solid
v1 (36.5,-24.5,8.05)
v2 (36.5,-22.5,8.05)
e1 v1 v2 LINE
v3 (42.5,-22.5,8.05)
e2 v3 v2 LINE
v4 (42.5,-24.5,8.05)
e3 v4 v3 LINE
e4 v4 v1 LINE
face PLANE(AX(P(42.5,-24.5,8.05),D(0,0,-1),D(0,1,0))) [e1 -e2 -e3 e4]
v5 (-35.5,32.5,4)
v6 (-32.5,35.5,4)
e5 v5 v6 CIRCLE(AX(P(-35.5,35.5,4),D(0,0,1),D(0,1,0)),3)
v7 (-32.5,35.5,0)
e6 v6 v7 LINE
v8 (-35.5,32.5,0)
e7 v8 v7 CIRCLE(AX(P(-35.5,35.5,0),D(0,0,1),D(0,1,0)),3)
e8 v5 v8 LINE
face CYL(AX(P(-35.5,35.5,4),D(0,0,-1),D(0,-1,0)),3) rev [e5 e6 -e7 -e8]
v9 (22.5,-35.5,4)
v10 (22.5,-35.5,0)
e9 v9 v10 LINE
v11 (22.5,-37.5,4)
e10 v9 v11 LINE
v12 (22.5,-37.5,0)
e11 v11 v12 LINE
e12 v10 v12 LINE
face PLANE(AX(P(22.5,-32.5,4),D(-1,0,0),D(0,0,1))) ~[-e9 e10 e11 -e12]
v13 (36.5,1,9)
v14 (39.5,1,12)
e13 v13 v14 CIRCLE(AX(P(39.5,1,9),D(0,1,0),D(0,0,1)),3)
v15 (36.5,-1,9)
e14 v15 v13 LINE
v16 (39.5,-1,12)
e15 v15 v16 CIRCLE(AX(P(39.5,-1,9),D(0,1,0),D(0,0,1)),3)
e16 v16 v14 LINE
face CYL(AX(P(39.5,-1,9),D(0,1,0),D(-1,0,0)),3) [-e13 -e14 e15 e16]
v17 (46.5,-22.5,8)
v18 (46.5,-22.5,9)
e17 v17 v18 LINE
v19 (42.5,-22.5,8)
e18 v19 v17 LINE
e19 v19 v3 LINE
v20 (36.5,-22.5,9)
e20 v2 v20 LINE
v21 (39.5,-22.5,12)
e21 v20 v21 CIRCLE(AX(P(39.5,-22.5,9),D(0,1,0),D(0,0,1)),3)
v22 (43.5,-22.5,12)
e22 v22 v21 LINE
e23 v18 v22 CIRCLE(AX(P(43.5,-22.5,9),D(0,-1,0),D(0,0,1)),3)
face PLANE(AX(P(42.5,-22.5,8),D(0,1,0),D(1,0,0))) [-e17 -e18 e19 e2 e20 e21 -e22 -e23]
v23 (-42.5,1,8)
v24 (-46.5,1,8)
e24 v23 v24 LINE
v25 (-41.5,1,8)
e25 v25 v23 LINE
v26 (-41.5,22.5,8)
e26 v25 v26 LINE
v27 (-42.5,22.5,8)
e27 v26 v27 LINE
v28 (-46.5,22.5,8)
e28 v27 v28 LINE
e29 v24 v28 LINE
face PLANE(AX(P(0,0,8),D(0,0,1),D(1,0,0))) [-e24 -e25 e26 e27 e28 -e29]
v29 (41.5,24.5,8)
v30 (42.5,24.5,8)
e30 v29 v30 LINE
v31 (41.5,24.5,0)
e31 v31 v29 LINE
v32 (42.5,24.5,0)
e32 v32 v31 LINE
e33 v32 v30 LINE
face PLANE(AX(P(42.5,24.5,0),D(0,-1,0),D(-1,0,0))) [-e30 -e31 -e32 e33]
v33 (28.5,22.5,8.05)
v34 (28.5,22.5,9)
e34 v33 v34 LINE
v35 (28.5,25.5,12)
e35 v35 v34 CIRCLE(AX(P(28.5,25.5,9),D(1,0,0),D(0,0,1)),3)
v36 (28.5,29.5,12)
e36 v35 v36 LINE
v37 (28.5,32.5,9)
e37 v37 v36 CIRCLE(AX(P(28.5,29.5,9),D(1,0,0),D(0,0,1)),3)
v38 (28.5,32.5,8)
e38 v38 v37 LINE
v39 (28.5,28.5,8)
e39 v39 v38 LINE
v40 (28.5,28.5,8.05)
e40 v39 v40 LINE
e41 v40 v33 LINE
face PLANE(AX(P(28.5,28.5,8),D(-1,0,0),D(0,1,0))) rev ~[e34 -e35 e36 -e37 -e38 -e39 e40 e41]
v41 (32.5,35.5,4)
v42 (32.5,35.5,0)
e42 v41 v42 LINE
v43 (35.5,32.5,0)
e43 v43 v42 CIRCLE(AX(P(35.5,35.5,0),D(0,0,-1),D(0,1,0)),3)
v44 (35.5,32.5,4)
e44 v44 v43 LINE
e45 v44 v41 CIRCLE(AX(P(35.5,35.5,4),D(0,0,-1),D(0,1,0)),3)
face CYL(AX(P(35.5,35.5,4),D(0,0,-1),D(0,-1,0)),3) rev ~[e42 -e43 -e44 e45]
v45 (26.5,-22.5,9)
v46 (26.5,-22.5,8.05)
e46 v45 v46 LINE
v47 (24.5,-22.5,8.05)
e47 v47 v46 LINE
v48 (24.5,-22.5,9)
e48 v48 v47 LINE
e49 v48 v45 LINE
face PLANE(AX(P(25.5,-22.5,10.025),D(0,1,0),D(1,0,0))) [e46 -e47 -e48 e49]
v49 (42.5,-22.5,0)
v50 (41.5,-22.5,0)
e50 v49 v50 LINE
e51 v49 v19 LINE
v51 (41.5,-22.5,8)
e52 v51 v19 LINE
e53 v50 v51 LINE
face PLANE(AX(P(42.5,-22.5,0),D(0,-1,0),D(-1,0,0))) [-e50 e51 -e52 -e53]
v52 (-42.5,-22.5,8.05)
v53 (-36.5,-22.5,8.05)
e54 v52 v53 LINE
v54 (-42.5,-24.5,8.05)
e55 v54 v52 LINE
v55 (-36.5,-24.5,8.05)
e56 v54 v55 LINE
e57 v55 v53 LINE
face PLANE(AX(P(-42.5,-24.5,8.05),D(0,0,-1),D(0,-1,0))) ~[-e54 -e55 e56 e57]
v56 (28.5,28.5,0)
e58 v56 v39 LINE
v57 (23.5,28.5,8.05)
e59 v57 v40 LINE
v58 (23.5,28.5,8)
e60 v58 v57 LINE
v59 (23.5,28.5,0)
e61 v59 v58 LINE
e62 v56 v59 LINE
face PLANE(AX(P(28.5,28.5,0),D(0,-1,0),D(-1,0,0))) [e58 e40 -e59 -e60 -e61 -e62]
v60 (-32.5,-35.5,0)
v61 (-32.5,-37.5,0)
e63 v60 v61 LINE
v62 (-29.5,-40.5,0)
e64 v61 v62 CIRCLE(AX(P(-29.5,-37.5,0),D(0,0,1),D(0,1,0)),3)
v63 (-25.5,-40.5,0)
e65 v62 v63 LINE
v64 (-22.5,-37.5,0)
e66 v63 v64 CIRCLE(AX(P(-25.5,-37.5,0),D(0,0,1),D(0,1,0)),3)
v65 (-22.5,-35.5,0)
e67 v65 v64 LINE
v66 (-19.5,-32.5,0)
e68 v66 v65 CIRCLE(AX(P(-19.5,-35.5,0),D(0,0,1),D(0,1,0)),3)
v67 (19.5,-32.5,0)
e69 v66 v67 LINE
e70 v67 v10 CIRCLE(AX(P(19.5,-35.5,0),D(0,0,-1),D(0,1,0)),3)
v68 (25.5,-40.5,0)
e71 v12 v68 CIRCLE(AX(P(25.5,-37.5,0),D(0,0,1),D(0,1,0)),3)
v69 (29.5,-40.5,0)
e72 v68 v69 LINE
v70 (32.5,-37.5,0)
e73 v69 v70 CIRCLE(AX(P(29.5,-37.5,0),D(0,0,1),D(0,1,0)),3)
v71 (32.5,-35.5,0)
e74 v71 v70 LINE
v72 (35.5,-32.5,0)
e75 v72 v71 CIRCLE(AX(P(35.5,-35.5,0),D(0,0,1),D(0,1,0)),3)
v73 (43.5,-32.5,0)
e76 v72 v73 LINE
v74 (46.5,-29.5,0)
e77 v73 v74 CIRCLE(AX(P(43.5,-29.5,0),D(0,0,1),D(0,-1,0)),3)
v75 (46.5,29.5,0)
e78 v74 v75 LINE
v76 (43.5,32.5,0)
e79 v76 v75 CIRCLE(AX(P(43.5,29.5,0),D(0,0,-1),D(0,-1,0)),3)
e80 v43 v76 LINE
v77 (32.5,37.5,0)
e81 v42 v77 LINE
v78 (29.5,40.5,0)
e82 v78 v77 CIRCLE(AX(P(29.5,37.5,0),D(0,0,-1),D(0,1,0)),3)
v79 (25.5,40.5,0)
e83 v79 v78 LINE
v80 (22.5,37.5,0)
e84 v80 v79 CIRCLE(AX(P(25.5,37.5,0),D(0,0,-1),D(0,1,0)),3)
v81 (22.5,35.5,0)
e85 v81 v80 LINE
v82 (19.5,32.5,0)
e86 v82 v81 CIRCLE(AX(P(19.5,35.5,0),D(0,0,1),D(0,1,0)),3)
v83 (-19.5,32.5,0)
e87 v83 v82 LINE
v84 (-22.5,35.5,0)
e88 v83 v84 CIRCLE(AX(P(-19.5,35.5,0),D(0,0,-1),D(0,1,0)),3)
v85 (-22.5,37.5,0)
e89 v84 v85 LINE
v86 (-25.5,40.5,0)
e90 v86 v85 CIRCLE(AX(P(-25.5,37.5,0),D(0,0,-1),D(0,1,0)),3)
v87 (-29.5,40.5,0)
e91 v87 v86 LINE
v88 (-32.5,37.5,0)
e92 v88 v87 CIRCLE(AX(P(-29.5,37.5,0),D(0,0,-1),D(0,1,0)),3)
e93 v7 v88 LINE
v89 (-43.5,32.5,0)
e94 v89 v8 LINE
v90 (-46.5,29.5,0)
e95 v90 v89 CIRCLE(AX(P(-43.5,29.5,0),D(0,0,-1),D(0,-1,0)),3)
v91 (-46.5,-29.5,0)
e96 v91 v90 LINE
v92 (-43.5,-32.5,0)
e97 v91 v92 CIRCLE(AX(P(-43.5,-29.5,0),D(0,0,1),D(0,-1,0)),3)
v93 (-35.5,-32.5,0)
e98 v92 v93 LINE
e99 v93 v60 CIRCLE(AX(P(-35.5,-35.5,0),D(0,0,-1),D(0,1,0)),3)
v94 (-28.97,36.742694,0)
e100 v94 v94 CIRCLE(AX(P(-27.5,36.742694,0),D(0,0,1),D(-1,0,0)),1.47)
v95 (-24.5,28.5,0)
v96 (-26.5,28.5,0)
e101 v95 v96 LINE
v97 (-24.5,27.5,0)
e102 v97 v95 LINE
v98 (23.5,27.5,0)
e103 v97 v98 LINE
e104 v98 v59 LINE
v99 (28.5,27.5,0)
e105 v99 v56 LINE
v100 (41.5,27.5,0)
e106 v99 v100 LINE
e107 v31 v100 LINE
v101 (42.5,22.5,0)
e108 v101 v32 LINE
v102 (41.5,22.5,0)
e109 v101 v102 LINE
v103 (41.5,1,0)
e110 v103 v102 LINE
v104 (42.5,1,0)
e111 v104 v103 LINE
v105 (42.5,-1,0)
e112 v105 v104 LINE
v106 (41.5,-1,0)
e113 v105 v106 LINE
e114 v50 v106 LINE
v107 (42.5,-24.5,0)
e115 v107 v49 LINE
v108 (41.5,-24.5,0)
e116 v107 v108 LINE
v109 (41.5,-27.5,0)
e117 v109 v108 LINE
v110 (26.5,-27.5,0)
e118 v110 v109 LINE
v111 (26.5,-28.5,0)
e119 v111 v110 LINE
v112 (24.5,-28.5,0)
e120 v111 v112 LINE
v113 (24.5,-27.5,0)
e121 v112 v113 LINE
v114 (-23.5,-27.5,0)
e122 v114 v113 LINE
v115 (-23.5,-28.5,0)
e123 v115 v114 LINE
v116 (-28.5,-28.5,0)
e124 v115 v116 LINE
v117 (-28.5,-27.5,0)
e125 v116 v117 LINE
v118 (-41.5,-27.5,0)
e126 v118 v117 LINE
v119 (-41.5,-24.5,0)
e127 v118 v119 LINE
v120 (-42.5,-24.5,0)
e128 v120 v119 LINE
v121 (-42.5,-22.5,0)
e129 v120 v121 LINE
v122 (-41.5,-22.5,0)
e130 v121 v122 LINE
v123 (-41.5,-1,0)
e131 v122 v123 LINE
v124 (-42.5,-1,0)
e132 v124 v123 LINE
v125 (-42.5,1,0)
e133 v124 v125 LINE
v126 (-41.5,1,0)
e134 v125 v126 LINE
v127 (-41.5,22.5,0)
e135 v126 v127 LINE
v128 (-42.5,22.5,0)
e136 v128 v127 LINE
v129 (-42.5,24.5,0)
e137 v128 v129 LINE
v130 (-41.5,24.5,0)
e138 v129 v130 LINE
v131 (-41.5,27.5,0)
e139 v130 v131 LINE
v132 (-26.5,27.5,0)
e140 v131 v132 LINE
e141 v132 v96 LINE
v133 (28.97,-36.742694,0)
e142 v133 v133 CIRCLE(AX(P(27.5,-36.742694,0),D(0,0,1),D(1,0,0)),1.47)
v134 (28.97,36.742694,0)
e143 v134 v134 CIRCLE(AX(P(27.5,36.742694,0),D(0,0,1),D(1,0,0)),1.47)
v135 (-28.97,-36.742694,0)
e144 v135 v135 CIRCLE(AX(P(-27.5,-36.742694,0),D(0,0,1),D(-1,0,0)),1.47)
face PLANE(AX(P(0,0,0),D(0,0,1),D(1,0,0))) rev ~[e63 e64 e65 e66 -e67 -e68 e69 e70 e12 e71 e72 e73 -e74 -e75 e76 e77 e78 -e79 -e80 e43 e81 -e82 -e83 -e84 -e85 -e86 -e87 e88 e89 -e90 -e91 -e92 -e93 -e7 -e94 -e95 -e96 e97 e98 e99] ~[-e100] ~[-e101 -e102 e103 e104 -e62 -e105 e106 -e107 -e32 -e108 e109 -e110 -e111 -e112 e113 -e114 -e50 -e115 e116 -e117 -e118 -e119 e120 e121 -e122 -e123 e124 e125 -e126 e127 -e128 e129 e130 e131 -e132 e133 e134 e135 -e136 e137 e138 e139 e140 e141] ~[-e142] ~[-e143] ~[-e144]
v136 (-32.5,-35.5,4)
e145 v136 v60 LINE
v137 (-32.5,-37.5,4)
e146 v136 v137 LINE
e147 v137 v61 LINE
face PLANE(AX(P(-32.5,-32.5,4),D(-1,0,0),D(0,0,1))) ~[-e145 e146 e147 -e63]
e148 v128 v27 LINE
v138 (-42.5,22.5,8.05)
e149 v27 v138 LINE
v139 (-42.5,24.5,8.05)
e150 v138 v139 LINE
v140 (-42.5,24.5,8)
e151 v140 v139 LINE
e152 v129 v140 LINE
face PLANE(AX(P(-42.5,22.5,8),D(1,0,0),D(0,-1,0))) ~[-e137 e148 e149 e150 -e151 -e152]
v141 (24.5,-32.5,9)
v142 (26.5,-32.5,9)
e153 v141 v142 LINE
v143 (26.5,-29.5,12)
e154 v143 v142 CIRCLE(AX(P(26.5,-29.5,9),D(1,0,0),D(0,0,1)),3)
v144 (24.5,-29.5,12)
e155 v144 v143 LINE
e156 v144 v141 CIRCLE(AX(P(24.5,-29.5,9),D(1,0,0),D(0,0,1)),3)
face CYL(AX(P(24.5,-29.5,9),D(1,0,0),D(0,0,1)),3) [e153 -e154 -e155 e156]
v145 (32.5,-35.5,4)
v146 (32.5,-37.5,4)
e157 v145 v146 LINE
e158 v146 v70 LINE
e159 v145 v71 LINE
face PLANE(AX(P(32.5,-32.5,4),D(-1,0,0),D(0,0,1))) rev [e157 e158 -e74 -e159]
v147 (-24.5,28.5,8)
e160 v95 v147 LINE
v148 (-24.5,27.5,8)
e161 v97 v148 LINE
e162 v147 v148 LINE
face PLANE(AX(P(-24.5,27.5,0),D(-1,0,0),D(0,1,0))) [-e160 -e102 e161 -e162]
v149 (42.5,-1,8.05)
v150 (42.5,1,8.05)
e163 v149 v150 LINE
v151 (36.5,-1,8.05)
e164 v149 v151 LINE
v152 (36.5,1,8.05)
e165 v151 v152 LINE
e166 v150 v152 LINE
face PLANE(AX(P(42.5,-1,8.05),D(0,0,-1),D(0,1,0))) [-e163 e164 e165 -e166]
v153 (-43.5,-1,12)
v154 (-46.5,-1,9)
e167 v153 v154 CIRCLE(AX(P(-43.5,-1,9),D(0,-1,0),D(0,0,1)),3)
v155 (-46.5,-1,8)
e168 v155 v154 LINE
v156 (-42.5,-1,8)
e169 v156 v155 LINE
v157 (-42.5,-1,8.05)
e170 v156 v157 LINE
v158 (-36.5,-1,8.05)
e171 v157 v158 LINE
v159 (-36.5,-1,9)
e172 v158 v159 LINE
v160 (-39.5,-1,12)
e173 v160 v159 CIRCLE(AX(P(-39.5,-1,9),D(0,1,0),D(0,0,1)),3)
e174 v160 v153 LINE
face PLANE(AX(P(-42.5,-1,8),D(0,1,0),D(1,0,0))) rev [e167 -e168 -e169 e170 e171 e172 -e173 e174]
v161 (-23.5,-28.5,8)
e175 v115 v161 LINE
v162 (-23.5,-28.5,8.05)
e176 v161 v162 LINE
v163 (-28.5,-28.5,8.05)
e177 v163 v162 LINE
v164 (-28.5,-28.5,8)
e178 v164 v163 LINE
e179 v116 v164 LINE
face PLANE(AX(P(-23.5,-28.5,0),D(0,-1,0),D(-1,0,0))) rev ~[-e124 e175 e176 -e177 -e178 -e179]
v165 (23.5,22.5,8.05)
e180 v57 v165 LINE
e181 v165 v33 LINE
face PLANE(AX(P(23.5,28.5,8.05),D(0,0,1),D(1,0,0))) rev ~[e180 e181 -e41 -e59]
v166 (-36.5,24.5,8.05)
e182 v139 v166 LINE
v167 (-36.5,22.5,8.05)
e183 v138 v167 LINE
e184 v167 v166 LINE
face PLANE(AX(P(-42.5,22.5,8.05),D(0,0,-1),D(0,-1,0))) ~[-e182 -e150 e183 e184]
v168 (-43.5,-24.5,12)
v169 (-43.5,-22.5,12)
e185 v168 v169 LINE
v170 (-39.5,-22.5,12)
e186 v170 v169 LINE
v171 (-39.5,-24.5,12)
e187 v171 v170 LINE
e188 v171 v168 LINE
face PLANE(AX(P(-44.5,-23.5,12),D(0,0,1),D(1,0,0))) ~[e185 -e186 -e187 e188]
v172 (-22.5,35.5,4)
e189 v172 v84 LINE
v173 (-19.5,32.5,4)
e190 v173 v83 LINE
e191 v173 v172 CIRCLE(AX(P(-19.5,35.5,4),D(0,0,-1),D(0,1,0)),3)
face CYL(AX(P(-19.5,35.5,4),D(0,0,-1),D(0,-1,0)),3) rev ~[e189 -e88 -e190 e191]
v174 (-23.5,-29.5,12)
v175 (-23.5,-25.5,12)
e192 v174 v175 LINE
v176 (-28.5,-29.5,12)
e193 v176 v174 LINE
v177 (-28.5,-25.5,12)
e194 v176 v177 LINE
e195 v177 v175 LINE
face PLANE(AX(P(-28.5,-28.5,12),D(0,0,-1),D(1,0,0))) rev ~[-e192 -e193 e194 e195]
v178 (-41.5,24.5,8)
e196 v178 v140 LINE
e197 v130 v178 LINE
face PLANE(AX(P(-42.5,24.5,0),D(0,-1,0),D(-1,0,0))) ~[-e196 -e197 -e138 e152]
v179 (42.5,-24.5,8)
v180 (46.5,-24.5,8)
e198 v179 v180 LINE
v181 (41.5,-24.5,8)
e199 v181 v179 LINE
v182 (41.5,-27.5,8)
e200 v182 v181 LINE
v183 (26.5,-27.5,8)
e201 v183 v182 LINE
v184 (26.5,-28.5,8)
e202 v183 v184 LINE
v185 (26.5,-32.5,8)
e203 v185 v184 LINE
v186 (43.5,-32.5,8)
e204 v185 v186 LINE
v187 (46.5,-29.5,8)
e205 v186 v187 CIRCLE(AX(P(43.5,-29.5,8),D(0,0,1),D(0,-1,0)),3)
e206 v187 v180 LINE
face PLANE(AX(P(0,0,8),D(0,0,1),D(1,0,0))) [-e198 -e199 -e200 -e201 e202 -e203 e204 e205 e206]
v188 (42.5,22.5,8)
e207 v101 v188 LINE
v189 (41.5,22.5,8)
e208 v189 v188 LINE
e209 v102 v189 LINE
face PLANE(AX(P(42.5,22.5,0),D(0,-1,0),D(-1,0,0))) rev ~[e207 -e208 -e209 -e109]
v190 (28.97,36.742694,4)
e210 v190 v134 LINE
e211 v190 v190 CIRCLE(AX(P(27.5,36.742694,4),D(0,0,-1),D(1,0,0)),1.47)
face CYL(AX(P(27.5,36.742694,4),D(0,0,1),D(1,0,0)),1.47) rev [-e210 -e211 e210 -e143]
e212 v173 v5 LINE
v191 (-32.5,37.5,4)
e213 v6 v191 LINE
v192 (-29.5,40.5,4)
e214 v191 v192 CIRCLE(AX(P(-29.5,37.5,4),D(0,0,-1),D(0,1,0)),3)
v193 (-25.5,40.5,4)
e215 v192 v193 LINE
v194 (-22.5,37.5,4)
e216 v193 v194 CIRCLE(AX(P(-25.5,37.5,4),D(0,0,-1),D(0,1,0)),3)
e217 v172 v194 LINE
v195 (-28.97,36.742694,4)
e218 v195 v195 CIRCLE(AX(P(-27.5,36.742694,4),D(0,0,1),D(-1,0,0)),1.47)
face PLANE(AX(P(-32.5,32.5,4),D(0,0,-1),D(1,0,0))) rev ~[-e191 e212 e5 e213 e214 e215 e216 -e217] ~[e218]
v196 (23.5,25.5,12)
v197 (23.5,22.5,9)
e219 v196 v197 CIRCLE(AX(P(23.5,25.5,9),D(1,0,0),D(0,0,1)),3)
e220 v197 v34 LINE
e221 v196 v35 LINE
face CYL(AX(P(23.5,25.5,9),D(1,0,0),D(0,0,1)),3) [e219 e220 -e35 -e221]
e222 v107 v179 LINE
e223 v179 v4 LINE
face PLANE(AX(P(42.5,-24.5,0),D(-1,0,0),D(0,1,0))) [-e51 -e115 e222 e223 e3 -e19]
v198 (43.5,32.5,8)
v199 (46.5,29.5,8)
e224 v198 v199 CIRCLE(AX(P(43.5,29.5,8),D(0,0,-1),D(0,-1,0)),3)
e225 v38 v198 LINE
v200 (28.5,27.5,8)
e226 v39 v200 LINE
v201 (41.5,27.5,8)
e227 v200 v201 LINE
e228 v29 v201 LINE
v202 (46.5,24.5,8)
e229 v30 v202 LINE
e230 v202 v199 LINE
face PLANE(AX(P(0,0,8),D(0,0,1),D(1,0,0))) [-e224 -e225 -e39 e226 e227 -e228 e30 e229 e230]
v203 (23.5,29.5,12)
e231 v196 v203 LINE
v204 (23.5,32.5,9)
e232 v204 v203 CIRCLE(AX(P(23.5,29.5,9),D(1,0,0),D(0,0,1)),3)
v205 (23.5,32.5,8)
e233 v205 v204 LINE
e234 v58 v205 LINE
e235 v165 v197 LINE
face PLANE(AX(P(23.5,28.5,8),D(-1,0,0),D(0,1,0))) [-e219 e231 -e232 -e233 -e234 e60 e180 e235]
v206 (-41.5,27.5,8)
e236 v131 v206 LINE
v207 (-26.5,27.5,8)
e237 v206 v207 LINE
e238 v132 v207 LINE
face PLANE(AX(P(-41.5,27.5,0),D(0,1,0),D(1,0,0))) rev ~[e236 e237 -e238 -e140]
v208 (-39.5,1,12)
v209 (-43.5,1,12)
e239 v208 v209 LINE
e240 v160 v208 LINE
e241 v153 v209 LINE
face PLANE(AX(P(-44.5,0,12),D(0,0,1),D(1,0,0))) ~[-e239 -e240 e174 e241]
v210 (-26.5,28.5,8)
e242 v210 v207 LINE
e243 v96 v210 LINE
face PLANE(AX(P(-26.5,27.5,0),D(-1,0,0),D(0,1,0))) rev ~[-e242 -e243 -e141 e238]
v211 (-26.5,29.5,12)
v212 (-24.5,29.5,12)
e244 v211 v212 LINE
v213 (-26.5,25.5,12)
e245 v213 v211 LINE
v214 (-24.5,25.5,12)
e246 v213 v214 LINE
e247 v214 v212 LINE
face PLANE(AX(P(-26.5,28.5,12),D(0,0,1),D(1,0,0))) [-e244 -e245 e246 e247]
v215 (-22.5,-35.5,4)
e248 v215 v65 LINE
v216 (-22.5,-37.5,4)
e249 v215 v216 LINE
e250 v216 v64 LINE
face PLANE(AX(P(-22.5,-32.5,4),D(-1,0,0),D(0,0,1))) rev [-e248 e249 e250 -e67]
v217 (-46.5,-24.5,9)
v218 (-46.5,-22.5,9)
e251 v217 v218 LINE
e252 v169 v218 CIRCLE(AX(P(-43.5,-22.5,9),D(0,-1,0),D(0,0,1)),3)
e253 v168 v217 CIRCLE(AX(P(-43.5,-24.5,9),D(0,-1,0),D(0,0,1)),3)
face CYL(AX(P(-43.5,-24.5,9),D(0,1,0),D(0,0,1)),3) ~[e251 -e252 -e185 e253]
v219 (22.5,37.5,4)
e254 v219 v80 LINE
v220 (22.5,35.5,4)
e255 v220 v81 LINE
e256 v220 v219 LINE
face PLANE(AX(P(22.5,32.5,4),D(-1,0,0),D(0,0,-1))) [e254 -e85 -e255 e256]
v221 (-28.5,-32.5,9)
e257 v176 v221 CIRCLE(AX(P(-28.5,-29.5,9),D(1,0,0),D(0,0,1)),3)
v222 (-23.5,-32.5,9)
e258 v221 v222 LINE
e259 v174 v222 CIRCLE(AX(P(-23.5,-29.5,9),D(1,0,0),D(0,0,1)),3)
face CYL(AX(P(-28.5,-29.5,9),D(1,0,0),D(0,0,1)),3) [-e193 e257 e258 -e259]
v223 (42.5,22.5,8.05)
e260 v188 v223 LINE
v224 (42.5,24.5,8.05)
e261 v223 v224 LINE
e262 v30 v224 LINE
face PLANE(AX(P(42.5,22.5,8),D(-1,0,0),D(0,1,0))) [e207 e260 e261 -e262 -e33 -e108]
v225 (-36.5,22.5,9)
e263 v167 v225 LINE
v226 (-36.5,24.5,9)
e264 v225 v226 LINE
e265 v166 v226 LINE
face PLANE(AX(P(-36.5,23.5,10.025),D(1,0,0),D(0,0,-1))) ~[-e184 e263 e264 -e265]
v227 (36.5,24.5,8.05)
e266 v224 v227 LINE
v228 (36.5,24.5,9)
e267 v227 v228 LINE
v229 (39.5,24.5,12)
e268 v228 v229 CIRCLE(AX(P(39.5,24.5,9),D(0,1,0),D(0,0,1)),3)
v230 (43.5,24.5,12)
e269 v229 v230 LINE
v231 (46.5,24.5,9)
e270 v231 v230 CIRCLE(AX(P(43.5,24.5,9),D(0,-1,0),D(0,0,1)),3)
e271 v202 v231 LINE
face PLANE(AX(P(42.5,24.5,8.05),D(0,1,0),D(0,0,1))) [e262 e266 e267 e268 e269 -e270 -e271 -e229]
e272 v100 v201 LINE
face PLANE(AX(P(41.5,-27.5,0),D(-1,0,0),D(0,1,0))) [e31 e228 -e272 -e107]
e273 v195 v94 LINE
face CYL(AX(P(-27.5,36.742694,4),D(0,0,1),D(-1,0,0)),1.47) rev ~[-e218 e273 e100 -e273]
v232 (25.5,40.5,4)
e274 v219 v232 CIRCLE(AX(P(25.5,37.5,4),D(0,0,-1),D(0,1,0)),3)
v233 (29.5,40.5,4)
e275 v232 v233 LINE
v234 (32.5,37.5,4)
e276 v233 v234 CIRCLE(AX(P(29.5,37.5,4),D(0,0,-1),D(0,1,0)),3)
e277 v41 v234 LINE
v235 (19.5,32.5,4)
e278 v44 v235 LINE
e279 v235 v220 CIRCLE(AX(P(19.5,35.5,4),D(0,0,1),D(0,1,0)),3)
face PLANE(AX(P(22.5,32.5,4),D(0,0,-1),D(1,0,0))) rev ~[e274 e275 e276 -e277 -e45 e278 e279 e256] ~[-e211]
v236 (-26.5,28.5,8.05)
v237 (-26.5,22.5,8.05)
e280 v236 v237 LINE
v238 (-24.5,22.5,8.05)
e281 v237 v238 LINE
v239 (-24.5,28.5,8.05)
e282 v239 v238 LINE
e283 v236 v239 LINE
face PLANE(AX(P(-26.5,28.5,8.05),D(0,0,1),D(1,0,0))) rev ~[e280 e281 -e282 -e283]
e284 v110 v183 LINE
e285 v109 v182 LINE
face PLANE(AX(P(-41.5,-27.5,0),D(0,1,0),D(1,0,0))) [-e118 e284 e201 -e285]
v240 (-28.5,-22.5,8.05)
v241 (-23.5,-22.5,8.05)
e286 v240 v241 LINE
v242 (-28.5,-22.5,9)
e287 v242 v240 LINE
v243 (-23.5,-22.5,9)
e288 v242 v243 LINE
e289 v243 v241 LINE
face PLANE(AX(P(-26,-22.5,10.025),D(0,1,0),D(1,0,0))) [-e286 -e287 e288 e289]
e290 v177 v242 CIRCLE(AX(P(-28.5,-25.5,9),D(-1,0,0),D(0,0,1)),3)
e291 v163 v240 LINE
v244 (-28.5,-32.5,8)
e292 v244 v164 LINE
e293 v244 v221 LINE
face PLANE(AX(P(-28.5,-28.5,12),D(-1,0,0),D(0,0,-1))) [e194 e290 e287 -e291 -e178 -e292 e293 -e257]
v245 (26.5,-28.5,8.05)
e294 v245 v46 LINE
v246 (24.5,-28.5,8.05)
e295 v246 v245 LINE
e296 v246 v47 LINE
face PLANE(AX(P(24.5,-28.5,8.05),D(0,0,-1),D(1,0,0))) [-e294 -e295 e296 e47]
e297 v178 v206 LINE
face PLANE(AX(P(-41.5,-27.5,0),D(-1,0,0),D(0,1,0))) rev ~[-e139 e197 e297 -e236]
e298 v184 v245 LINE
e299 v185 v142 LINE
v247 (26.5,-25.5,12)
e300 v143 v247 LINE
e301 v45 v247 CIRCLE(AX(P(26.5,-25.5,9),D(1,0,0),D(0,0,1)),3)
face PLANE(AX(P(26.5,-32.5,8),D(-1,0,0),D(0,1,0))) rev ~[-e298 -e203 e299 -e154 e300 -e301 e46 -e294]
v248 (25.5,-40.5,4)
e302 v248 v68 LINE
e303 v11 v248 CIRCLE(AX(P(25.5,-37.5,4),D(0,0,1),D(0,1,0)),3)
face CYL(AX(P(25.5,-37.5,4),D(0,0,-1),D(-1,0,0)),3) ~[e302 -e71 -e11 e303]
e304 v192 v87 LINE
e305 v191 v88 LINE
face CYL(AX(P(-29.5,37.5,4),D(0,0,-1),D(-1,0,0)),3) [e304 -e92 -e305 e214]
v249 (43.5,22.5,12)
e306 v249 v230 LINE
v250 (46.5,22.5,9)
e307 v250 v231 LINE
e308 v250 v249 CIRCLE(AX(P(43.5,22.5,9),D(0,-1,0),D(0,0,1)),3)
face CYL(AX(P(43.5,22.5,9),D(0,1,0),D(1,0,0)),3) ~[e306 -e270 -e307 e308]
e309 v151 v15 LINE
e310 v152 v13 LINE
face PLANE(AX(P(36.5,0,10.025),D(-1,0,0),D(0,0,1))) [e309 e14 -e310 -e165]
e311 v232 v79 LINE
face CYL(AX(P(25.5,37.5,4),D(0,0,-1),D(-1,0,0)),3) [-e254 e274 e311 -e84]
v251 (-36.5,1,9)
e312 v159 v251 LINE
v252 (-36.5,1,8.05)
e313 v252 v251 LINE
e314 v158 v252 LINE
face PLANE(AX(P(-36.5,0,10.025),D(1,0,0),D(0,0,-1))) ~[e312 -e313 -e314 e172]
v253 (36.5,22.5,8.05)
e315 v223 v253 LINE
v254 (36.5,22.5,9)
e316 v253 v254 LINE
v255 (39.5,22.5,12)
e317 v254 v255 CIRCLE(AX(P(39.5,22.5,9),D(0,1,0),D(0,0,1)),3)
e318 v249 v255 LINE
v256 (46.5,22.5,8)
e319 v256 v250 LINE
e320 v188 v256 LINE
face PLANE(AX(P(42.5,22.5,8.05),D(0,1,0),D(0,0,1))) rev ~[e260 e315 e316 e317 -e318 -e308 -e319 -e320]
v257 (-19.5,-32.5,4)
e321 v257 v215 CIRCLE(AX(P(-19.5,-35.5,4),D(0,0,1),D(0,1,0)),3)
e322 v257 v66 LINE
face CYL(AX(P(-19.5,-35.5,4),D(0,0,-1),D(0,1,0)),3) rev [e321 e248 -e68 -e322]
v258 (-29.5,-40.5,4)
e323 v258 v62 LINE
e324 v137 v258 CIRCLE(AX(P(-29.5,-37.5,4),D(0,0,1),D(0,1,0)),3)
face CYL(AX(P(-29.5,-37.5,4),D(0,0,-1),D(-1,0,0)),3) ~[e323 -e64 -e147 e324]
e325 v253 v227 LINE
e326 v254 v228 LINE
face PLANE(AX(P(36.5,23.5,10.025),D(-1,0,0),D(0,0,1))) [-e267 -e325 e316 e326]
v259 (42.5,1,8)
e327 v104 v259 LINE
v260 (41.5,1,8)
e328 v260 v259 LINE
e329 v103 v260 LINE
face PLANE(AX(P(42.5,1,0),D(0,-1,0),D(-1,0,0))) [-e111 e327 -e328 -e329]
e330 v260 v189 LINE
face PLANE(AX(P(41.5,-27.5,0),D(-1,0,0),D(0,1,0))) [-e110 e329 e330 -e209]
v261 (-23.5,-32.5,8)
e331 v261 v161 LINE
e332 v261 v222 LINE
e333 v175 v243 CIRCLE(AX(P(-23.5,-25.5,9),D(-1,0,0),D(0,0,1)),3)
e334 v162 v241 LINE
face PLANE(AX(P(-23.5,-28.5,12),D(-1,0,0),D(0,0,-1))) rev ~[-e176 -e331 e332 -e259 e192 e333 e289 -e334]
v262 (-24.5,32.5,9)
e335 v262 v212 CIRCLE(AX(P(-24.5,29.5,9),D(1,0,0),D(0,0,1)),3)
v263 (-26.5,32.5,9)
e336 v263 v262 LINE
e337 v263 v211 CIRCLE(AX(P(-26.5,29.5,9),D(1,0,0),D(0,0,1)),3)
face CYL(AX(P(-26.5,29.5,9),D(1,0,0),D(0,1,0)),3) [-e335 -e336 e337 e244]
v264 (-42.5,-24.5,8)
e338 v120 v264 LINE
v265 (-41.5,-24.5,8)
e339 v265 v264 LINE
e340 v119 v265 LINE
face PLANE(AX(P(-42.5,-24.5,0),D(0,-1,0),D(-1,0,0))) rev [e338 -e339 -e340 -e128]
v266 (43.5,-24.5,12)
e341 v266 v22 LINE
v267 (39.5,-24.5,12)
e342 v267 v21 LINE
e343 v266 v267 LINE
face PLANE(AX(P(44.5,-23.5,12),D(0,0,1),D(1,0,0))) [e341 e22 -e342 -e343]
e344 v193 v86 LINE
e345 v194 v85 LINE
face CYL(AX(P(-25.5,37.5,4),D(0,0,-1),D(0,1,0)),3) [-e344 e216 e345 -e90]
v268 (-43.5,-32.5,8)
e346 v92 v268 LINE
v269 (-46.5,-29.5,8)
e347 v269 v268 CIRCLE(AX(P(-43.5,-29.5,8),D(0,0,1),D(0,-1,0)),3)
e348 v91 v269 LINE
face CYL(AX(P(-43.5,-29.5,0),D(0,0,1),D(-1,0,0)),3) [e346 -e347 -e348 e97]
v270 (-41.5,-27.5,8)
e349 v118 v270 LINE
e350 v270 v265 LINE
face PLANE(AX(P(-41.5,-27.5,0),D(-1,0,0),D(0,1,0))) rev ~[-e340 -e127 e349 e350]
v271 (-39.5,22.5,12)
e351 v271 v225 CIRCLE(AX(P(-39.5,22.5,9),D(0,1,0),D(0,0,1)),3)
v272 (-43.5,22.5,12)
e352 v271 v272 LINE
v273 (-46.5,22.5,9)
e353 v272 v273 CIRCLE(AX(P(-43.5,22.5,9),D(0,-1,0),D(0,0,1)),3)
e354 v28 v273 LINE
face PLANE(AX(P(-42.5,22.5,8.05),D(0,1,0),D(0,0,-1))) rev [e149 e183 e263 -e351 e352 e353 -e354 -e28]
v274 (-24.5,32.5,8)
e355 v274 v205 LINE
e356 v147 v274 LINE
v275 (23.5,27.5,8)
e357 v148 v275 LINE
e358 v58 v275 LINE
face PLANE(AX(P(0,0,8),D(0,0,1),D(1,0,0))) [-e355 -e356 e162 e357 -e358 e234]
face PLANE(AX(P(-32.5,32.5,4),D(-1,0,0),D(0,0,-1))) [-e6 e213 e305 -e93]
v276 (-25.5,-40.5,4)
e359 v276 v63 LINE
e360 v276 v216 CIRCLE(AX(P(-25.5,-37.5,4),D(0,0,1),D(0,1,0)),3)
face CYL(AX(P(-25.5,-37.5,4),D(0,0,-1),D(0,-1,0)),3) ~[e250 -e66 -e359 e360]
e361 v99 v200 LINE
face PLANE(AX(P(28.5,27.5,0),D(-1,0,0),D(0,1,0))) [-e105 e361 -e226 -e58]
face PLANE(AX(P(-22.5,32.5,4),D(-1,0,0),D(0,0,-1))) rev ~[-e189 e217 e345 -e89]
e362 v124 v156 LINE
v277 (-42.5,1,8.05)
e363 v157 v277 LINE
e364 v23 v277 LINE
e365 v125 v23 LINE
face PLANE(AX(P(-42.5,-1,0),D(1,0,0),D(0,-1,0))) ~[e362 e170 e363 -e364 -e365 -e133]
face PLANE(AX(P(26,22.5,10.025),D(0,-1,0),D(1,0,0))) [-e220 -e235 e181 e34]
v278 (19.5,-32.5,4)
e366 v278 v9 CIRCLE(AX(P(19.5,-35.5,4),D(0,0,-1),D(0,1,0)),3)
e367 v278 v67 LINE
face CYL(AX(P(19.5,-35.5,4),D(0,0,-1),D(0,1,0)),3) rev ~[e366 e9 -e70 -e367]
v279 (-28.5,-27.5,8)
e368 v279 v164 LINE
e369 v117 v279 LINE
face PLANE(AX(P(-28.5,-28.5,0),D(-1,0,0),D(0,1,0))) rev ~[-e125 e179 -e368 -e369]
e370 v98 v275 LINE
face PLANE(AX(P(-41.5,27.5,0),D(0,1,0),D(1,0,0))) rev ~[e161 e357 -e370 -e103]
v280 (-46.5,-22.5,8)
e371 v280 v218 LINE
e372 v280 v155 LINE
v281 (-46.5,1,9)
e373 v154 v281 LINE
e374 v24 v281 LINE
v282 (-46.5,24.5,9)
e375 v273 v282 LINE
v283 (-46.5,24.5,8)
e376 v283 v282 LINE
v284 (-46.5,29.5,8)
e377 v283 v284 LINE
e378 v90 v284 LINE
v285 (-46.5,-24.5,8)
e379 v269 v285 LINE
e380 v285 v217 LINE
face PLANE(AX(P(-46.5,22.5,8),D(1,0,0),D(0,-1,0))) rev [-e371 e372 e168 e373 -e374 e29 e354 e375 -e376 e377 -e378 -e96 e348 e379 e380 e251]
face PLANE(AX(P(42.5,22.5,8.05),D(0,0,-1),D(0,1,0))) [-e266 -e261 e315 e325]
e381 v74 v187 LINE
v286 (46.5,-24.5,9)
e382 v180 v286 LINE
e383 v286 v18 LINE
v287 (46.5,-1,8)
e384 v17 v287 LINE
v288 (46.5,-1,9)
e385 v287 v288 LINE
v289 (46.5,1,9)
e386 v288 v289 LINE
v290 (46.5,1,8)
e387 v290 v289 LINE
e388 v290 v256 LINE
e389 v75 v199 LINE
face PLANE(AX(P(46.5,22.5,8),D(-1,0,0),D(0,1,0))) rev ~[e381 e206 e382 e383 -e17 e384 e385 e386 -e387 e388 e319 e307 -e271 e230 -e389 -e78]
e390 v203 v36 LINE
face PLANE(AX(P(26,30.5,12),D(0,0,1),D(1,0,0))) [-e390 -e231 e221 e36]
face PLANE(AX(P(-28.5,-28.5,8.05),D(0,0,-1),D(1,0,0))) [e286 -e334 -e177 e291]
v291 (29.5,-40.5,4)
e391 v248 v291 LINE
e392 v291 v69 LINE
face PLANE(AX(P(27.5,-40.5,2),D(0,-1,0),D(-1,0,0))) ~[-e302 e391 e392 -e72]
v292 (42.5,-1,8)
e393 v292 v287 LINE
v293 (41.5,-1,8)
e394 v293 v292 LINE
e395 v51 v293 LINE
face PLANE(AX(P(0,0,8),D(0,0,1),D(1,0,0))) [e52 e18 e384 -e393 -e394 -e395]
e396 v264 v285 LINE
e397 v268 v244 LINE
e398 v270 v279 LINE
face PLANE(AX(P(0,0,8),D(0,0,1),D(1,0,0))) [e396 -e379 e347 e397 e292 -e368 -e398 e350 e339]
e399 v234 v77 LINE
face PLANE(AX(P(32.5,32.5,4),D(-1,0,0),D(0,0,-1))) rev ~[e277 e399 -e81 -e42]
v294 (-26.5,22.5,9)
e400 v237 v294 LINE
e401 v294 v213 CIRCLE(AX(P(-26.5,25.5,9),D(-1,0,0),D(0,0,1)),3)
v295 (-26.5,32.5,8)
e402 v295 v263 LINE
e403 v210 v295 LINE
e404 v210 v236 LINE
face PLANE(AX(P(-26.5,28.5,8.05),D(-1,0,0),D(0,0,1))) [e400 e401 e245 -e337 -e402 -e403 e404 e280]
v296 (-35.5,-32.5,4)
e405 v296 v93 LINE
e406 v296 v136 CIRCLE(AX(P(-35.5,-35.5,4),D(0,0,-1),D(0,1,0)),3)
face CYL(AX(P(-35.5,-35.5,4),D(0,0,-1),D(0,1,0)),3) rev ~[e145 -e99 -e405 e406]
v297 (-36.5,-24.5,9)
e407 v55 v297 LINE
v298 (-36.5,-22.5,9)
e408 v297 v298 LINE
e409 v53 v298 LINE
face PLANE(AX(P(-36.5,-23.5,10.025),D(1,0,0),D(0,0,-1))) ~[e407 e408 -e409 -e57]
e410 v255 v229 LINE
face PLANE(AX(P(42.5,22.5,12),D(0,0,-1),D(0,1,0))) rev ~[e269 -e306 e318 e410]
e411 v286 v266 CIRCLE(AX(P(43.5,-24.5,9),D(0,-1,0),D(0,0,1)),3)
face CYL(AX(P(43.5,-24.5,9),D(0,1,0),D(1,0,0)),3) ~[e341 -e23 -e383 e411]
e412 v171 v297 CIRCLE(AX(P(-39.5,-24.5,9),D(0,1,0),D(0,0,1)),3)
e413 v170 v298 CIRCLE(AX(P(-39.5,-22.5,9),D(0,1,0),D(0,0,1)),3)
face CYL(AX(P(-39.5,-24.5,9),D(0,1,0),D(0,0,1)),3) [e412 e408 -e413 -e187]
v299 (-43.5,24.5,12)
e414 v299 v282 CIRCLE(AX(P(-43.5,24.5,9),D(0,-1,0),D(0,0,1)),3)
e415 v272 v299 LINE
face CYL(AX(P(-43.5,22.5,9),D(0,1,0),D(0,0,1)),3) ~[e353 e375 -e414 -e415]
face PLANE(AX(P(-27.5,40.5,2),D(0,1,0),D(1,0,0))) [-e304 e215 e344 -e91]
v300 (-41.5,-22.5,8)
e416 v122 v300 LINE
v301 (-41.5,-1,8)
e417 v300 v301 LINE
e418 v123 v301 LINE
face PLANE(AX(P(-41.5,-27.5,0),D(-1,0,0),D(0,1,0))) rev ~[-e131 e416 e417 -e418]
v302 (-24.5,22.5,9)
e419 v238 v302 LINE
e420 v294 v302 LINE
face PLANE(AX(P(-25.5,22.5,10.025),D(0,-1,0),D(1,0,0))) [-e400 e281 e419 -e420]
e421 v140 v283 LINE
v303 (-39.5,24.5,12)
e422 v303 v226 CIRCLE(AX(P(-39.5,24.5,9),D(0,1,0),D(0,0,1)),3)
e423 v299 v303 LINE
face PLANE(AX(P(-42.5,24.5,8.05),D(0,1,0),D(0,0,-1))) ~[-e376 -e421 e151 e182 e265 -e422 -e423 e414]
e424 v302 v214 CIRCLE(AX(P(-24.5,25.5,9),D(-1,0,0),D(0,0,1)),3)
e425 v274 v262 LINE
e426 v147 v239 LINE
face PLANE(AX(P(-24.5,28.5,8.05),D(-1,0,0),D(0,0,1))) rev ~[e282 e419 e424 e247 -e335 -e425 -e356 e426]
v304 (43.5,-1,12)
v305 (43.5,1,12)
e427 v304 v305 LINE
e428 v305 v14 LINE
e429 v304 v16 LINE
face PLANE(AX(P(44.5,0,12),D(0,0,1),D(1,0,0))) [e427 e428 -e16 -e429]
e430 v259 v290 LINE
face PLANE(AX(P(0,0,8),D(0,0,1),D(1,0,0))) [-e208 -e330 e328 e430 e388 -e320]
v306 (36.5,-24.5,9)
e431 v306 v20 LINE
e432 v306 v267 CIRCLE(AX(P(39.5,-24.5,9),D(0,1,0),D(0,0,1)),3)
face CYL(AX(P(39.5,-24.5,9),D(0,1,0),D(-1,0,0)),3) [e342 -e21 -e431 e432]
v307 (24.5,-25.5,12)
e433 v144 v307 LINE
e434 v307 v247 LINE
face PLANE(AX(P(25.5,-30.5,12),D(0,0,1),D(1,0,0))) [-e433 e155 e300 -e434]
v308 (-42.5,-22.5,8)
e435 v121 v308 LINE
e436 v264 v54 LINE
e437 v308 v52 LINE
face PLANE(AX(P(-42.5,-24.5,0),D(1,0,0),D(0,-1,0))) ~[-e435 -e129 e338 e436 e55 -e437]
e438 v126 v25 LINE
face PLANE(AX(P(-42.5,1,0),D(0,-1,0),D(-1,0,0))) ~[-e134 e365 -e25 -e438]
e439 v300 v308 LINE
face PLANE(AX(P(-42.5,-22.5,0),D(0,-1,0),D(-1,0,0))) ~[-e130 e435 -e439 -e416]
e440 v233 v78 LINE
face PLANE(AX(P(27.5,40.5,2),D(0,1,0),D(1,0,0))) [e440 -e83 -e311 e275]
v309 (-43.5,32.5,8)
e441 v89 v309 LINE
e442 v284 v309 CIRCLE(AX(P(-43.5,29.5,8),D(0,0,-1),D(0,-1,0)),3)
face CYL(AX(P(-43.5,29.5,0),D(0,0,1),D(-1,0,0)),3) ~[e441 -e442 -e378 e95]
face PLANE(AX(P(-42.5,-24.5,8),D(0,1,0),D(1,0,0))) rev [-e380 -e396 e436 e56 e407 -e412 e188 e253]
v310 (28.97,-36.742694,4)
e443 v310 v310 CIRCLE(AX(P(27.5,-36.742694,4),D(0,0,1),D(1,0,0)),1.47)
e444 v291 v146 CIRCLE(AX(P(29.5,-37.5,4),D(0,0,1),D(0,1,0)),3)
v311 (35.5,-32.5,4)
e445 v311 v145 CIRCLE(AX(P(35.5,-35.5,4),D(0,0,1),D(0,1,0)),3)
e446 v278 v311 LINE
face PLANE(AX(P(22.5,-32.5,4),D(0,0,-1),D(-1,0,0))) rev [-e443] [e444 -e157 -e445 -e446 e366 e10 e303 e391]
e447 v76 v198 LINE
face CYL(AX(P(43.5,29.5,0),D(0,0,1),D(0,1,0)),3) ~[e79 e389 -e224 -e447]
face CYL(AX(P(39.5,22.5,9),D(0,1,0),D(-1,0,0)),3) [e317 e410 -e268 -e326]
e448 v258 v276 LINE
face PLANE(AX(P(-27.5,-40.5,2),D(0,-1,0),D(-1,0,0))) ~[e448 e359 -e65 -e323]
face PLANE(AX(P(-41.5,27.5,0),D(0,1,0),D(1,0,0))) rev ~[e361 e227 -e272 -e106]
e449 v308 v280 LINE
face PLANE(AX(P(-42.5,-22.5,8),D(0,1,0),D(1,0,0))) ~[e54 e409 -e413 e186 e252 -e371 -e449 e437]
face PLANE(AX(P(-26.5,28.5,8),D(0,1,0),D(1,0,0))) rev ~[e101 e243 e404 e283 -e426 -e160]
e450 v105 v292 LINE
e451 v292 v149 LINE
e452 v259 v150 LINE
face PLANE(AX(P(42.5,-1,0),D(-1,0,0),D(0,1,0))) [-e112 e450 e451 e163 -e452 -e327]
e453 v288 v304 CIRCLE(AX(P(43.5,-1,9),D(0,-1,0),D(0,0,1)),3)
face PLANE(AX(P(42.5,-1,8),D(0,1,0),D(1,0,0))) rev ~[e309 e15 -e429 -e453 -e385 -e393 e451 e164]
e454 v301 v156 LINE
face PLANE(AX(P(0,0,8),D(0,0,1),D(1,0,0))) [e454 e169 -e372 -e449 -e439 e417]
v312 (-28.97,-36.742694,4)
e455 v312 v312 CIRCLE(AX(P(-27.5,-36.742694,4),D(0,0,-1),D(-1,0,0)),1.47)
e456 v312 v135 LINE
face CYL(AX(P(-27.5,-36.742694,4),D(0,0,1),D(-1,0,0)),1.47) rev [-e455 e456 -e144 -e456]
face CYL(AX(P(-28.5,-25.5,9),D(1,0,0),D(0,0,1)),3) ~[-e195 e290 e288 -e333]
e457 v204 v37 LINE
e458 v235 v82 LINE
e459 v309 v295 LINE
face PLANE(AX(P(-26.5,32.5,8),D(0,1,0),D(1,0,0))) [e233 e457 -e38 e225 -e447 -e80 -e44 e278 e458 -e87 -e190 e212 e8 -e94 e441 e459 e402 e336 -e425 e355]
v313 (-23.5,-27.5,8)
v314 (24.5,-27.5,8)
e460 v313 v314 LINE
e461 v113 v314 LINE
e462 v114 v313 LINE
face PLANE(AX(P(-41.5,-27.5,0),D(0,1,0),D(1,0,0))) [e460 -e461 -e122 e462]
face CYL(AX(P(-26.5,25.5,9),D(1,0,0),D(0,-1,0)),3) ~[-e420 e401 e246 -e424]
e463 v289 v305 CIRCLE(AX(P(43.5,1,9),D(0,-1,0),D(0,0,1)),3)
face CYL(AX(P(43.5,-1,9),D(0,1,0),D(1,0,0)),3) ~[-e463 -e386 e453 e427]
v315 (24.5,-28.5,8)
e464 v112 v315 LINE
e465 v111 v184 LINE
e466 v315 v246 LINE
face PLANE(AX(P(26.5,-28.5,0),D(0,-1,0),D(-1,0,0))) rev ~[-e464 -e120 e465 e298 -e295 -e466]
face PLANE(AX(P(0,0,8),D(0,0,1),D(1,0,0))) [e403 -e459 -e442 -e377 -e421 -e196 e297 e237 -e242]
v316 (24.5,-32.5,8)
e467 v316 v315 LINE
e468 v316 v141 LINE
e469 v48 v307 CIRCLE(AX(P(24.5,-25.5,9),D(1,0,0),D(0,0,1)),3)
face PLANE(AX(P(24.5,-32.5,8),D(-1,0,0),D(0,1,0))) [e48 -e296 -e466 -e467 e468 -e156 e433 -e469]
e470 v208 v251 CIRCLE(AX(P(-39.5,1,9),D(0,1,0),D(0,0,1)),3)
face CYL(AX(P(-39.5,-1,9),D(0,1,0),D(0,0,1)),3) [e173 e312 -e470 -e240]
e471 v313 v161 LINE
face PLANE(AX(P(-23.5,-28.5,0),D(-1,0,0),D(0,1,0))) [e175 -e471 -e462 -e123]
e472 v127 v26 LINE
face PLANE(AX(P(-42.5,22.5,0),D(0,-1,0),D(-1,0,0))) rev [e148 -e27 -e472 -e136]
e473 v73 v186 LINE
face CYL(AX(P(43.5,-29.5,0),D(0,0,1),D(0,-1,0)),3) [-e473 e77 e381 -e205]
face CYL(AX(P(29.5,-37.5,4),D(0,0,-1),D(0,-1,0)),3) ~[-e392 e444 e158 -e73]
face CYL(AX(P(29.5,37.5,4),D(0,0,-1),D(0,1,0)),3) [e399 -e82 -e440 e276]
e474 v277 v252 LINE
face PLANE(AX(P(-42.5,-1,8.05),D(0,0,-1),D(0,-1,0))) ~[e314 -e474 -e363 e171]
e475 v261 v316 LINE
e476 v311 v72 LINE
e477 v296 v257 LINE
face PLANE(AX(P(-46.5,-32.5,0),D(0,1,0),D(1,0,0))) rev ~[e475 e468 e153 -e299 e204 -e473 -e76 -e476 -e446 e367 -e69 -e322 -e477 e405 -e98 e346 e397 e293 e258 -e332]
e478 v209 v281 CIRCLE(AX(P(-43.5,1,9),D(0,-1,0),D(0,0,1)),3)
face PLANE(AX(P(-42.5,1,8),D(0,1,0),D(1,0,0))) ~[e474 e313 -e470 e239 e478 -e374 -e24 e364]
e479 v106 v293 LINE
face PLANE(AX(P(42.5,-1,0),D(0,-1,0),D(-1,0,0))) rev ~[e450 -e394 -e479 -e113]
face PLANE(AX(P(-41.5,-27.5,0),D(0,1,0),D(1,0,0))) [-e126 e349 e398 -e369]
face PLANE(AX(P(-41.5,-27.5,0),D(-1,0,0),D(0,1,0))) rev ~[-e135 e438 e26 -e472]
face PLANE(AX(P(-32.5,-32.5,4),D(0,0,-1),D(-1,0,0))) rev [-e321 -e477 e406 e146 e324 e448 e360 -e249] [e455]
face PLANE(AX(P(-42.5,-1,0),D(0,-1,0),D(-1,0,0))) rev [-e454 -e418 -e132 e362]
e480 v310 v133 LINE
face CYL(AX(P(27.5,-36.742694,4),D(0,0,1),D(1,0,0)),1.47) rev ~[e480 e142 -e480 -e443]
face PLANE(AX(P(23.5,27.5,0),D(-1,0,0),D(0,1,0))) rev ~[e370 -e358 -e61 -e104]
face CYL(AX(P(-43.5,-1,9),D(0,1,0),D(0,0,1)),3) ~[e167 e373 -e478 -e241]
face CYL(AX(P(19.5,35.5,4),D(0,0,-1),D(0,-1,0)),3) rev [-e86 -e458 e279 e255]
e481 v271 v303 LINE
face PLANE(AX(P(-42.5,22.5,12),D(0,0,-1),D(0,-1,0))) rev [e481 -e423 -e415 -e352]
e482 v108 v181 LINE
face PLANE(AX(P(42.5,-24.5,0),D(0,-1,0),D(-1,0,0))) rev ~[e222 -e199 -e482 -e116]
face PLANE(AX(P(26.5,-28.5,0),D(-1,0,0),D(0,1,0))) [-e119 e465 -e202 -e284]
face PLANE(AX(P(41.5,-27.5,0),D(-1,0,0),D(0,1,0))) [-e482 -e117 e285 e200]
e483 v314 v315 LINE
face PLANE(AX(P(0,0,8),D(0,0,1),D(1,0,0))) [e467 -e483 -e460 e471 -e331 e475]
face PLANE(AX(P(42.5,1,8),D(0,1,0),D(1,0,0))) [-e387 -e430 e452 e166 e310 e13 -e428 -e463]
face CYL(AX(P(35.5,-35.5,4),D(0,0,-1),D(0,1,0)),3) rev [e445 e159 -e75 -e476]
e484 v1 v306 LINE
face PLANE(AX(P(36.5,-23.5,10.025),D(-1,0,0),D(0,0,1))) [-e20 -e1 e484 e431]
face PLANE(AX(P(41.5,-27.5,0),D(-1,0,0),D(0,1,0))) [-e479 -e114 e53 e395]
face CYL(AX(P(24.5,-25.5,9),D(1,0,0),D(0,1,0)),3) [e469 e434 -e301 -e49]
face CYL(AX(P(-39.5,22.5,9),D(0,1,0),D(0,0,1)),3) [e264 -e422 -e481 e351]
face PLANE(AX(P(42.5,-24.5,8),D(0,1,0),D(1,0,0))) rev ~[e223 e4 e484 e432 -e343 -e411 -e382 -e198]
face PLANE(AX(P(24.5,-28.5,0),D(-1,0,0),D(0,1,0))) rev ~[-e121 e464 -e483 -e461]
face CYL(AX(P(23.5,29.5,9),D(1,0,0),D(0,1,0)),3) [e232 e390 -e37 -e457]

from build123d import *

# Parameters (mm, degrees)
SKETCH1_W               = 93
SKETCH1_H               = 65
SKETCH1_W_2             = 83
SKETCH1_H_2             = 55
BOSS_EXTRUDE1_DEPTH     = 8
FILLET1_R               = 3
SKETCH2_W               = 10
SKETCH2_H               = 4
BOSS_EXTRUDE6_DEPTH     = 8
FILLET3_R               = 3
SKETCH9_R               = 1.47
CUT_EXTRUDE1_DEPTH      = 5
MIRROR4_COPY_1_SKETCH_R = 1.47
MIRROR4_COPY_1_DEPTH    = 5
FILLET4_R               = 3
SKETCH10_W              = 2
SKETCH10_H              = 1
SKETCH10_W_2            = 5
CUT_EXTRUDE2_DEPTH      = 9
SKETCH11_W              = 2
SKETCH11_H              = 1
SKETCH11_W_2            = 5
CUT_EXTRUDE3_DEPTH      = 9
SKETCH12_W              = 1
SKETCH12_H              = 2
CUT_EXTRUDE4_DEPTH      = 9
SKETCH14_W              = 4
SKETCH14_H              = 2
BOSS_EXTRUDE14_DEPTH    = 4
SKETCH15_W              = 3.95
SKETCH15_H              = 2
BOSS_EXTRUDE18_DEPTH    = 6
SKETCH16_W              = 2
SKETCH16_H              = 4
SKETCH16_W_2            = 5
BOSS_EXTRUDE19_DEPTH    = 4
SKETCH17_W              = 2
SKETCH17_H              = 3.95
SKETCH17_W_2            = 5
BOSS_EXTRUDE20_DEPTH    = 6
SKETCH18_W              = 5
SKETCH18_H              = 3.95
SKETCH18_W_2            = 2
BOSS_EXTRUDE21_DEPTH    = 6
FILLET6_R               = 3


with BuildPart() as part:
    # Sketch1 → Boss-Extrude1 (new body)
    with BuildSketch(Plane.XY):
        Rectangle(SKETCH1_W, SKETCH1_H)
        Rectangle(SKETCH1_W_2, SKETCH1_H_2, mode=Mode.SUBTRACT)
    extrude(amount=BOSS_EXTRUDE1_DEPTH)

    # Fillet1
    fillet1_edges = [part.edges().sort_by_distance(p)[0] for p in [
        (-46.5, 32.5, 4),
        (46.5, 32.5, 4),
        (46.5, -32.5, 4),
        (-46.5, -32.5, 4),
    ]]
    fillet(fillet1_edges, radius=FILLET1_R)

    # Sketch2 → Boss-Extrude6 (add)
    with BuildSketch(Plane(origin=(0, 32.5, 0), x_dir=(1, 0, 0), z_dir=(0, 1, 0))):
        with Locations((-27.5, -2)):
            Rectangle(SKETCH2_W, SKETCH2_H)
        with Locations((27.5, -2)):
            Rectangle(SKETCH2_W, SKETCH2_H)
    boss_extrude6 = extrude(amount=BOSS_EXTRUDE6_DEPTH)

    # Mirror2: Boss-Extrude6 across plane
    add(boss_extrude6.mirror(Plane.ZX))

    # Fillet3
    fillet3_edges = [part.edges().sort_by_distance(p)[0] for p in [
        (32.5, -32.5, 2),
        (22.5, -32.5, 2),
        (-22.5, 32.5, 2),
        (-32.5, 32.5, 2),
        (32.5, 32.5, 2),
        (22.5, 32.5, 2),
        (-22.5, -32.5, 2),
        (-32.5, -32.5, 2),
    ]]
    fillet(fillet3_edges, radius=FILLET3_R)

    # Sketch9 → Cut-Extrude1 (cut, through all)
    with BuildSketch(Plane.XY.offset(4)):
        with Locations((27.5, -36.742693553)):
            Circle(SKETCH9_R)
    cut_extrude1 = extrude(amount=-CUT_EXTRUDE1_DEPTH, mode=Mode.SUBTRACT)

    # Mirror3: Cut-Extrude1 across plane
    add(cut_extrude1.mirror(Plane(origin=(0, 0, 0), x_dir=(0, 0, 1), z_dir=(1, 0, 0))), mode=Mode.SUBTRACT)

    # Mirror4: Cut-Extrude1 across plane
    add(cut_extrude1.mirror(Plane.ZX), mode=Mode.SUBTRACT)

    # Mirror4 copy 1 sketch → Mirror4 copy 1 (cut, through all)
    with BuildSketch(Plane(origin=(0, 0, 4), x_dir=(-1, 0, 0), z_dir=(0, 0, 1))):
        with Locations((27.5, -36.742693553)):
            Circle(MIRROR4_COPY_1_SKETCH_R)
    extrude(amount=-MIRROR4_COPY_1_DEPTH, mode=Mode.SUBTRACT)

    # Fillet4
    fillet4_edges = [part.edges().sort_by_distance(p)[0] for p in [
        (32.5, -40.5, 2),
        (22.5, -40.5, 2),
        (-22.5, 40.5, 2),
        (-32.5, 40.5, 2),
        (32.5, 40.5, 2),
        (22.5, 40.5, 2),
        (-22.5, -40.5, 2),
        (-32.5, -40.5, 2),
    ]]
    fillet(fillet4_edges, radius=FILLET4_R)

    # Sketch10 → Cut-Extrude2 (cut, through all)
    with BuildSketch(Plane(origin=(0, 0, 0), x_dir=(-1, 0, 0), z_dir=(0, 0, -1))):
        with Locations((-25.5, -28)):
            Rectangle(SKETCH10_W, SKETCH10_H)
        with Locations((26, -28)):
            Rectangle(SKETCH10_W_2, SKETCH10_H)
    extrude(amount=-CUT_EXTRUDE2_DEPTH, mode=Mode.SUBTRACT)

    # Sketch11 → Cut-Extrude3 (cut, through all)
    with BuildSketch(Plane(origin=(0, 0, 0), x_dir=(-1, 0, 0), z_dir=(0, 0, -1))):
        with Locations((25.5, 28)):
            Rectangle(SKETCH11_W, SKETCH11_H)
        with Locations((-26, 28)):
            Rectangle(SKETCH11_W_2, SKETCH11_H)
    extrude(amount=-CUT_EXTRUDE3_DEPTH, mode=Mode.SUBTRACT)

    # Sketch12 → Cut-Extrude4 (cut, through all)
    with BuildSketch(Plane(origin=(0, 0, 0), x_dir=(-1, 0, 0), z_dir=(0, 0, -1))):
        with Locations((-42, 0)):
            Rectangle(SKETCH12_W, SKETCH12_H)
        with Locations((-42, -23.5)):
            Rectangle(SKETCH12_W, SKETCH12_H)
        with Locations((-42, 23.5)):
            Rectangle(SKETCH12_W, SKETCH12_H)
    cut_extrude4 = extrude(amount=-CUT_EXTRUDE4_DEPTH, mode=Mode.SUBTRACT)

    # Mirror5: Cut-Extrude4 across plane
    add(cut_extrude4.mirror(Plane(origin=(0, 0, 0), x_dir=(0, 0, 1), z_dir=(1, 0, 0))), mode=Mode.SUBTRACT)

    # Sketch14 → Boss-Extrude14 (add)
    with BuildSketch(Plane.XY.offset(8)):
        with Locations((44.5, 23.5)):
            Rectangle(SKETCH14_W, SKETCH14_H)
        with Locations((44.5, 0)):
            Rectangle(SKETCH14_W, SKETCH14_H)
        with Locations((44.5, -23.5)):
            Rectangle(SKETCH14_W, SKETCH14_H)
    boss_extrude14 = extrude(amount=BOSS_EXTRUDE14_DEPTH)

    # Mirror6: Boss-Extrude14 across plane
    add(boss_extrude14.mirror(Plane(origin=(0, 0, 0), x_dir=(0, 0, 1), z_dir=(1, 0, 0))))

    # Sketch15 → Boss-Extrude18 (add)
    with BuildSketch(Plane.ZY.offset(-42.5)):
        with Locations((10.025, 23.5)):
            Rectangle(SKETCH15_W, SKETCH15_H)
        with Locations((10.025, 0)):
            Rectangle(SKETCH15_W, SKETCH15_H)
        with Locations((10.025, -23.5)):
            Rectangle(SKETCH15_W, SKETCH15_H)
    boss_extrude18 = extrude(amount=BOSS_EXTRUDE18_DEPTH)

    # Mirror7: Boss-Extrude18 across plane
    add(boss_extrude18.mirror(Plane(origin=(0, 0, 0), x_dir=(0, 0, 1), z_dir=(1, 0, 0))))

    # Sketch16 → Boss-Extrude19 (add)
    with BuildSketch(Plane.XY.offset(8)):
        with Locations((-25.5, 30.5)):
            Rectangle(SKETCH16_W, SKETCH16_H)
        with Locations((26, 30.5)):
            Rectangle(SKETCH16_W_2, SKETCH16_H)
        with Locations((25.5, -30.5)):
            Rectangle(SKETCH16_W, SKETCH16_H)
        with Locations((-26, -30.5)):
            Rectangle(SKETCH16_W_2, SKETCH16_H)
    extrude(amount=BOSS_EXTRUDE19_DEPTH)

    # Sketch17 → Boss-Extrude20 (add)
    with BuildSketch(Plane.XZ.offset(-28.5)):
        with Locations((-25.5, 10.025)):
            Rectangle(SKETCH17_W, SKETCH17_H)
        with Locations((26, 10.025)):
            Rectangle(SKETCH17_W_2, SKETCH17_H)
    extrude(amount=BOSS_EXTRUDE20_DEPTH)

    # Sketch18 → Boss-Extrude21 (add)
    with BuildSketch(Plane(origin=(0, -28.5, 0), x_dir=(1, 0, 0), z_dir=(0, 1, 0))):
        with Locations((-26, -10.025)):
            Rectangle(SKETCH18_W, SKETCH18_H)
        with Locations((25.5, -10.025)):
            Rectangle(SKETCH18_W_2, SKETCH18_H)
    extrude(amount=BOSS_EXTRUDE21_DEPTH)

    # Fillet6
    fillet6_edges = [part.edges().sort_by_distance(p)[0] for p in [
        (-25.5, 32.5, 12),
        (-25.5, 22.5, 12),
        (-36.5, 23.5, 12),
        (-46.5, 23.5, 12),
        (-36.5, 0, 12),
        (-46.5, 0, 12),
        (-36.5, -23.5, 12),
        (-46.5, -23.5, 12),
        (-26, -32.5, 12),
        (-26, -22.5, 12),
        (25.5, -32.5, 12),
        (25.5, -22.5, 12),
        (36.5, -23.5, 12),
        (46.5, -23.5, 12),
        (46.5, 0, 12),
        (36.5, 0, 12),
        (36.5, 23.5, 12),
        (26, 22.5, 12),
        (26, 32.5, 12),
        (46.5, 23.5, 12),
    ]]
    fillet(fillet6_edges, radius=FILLET6_R)


solid = part.part
